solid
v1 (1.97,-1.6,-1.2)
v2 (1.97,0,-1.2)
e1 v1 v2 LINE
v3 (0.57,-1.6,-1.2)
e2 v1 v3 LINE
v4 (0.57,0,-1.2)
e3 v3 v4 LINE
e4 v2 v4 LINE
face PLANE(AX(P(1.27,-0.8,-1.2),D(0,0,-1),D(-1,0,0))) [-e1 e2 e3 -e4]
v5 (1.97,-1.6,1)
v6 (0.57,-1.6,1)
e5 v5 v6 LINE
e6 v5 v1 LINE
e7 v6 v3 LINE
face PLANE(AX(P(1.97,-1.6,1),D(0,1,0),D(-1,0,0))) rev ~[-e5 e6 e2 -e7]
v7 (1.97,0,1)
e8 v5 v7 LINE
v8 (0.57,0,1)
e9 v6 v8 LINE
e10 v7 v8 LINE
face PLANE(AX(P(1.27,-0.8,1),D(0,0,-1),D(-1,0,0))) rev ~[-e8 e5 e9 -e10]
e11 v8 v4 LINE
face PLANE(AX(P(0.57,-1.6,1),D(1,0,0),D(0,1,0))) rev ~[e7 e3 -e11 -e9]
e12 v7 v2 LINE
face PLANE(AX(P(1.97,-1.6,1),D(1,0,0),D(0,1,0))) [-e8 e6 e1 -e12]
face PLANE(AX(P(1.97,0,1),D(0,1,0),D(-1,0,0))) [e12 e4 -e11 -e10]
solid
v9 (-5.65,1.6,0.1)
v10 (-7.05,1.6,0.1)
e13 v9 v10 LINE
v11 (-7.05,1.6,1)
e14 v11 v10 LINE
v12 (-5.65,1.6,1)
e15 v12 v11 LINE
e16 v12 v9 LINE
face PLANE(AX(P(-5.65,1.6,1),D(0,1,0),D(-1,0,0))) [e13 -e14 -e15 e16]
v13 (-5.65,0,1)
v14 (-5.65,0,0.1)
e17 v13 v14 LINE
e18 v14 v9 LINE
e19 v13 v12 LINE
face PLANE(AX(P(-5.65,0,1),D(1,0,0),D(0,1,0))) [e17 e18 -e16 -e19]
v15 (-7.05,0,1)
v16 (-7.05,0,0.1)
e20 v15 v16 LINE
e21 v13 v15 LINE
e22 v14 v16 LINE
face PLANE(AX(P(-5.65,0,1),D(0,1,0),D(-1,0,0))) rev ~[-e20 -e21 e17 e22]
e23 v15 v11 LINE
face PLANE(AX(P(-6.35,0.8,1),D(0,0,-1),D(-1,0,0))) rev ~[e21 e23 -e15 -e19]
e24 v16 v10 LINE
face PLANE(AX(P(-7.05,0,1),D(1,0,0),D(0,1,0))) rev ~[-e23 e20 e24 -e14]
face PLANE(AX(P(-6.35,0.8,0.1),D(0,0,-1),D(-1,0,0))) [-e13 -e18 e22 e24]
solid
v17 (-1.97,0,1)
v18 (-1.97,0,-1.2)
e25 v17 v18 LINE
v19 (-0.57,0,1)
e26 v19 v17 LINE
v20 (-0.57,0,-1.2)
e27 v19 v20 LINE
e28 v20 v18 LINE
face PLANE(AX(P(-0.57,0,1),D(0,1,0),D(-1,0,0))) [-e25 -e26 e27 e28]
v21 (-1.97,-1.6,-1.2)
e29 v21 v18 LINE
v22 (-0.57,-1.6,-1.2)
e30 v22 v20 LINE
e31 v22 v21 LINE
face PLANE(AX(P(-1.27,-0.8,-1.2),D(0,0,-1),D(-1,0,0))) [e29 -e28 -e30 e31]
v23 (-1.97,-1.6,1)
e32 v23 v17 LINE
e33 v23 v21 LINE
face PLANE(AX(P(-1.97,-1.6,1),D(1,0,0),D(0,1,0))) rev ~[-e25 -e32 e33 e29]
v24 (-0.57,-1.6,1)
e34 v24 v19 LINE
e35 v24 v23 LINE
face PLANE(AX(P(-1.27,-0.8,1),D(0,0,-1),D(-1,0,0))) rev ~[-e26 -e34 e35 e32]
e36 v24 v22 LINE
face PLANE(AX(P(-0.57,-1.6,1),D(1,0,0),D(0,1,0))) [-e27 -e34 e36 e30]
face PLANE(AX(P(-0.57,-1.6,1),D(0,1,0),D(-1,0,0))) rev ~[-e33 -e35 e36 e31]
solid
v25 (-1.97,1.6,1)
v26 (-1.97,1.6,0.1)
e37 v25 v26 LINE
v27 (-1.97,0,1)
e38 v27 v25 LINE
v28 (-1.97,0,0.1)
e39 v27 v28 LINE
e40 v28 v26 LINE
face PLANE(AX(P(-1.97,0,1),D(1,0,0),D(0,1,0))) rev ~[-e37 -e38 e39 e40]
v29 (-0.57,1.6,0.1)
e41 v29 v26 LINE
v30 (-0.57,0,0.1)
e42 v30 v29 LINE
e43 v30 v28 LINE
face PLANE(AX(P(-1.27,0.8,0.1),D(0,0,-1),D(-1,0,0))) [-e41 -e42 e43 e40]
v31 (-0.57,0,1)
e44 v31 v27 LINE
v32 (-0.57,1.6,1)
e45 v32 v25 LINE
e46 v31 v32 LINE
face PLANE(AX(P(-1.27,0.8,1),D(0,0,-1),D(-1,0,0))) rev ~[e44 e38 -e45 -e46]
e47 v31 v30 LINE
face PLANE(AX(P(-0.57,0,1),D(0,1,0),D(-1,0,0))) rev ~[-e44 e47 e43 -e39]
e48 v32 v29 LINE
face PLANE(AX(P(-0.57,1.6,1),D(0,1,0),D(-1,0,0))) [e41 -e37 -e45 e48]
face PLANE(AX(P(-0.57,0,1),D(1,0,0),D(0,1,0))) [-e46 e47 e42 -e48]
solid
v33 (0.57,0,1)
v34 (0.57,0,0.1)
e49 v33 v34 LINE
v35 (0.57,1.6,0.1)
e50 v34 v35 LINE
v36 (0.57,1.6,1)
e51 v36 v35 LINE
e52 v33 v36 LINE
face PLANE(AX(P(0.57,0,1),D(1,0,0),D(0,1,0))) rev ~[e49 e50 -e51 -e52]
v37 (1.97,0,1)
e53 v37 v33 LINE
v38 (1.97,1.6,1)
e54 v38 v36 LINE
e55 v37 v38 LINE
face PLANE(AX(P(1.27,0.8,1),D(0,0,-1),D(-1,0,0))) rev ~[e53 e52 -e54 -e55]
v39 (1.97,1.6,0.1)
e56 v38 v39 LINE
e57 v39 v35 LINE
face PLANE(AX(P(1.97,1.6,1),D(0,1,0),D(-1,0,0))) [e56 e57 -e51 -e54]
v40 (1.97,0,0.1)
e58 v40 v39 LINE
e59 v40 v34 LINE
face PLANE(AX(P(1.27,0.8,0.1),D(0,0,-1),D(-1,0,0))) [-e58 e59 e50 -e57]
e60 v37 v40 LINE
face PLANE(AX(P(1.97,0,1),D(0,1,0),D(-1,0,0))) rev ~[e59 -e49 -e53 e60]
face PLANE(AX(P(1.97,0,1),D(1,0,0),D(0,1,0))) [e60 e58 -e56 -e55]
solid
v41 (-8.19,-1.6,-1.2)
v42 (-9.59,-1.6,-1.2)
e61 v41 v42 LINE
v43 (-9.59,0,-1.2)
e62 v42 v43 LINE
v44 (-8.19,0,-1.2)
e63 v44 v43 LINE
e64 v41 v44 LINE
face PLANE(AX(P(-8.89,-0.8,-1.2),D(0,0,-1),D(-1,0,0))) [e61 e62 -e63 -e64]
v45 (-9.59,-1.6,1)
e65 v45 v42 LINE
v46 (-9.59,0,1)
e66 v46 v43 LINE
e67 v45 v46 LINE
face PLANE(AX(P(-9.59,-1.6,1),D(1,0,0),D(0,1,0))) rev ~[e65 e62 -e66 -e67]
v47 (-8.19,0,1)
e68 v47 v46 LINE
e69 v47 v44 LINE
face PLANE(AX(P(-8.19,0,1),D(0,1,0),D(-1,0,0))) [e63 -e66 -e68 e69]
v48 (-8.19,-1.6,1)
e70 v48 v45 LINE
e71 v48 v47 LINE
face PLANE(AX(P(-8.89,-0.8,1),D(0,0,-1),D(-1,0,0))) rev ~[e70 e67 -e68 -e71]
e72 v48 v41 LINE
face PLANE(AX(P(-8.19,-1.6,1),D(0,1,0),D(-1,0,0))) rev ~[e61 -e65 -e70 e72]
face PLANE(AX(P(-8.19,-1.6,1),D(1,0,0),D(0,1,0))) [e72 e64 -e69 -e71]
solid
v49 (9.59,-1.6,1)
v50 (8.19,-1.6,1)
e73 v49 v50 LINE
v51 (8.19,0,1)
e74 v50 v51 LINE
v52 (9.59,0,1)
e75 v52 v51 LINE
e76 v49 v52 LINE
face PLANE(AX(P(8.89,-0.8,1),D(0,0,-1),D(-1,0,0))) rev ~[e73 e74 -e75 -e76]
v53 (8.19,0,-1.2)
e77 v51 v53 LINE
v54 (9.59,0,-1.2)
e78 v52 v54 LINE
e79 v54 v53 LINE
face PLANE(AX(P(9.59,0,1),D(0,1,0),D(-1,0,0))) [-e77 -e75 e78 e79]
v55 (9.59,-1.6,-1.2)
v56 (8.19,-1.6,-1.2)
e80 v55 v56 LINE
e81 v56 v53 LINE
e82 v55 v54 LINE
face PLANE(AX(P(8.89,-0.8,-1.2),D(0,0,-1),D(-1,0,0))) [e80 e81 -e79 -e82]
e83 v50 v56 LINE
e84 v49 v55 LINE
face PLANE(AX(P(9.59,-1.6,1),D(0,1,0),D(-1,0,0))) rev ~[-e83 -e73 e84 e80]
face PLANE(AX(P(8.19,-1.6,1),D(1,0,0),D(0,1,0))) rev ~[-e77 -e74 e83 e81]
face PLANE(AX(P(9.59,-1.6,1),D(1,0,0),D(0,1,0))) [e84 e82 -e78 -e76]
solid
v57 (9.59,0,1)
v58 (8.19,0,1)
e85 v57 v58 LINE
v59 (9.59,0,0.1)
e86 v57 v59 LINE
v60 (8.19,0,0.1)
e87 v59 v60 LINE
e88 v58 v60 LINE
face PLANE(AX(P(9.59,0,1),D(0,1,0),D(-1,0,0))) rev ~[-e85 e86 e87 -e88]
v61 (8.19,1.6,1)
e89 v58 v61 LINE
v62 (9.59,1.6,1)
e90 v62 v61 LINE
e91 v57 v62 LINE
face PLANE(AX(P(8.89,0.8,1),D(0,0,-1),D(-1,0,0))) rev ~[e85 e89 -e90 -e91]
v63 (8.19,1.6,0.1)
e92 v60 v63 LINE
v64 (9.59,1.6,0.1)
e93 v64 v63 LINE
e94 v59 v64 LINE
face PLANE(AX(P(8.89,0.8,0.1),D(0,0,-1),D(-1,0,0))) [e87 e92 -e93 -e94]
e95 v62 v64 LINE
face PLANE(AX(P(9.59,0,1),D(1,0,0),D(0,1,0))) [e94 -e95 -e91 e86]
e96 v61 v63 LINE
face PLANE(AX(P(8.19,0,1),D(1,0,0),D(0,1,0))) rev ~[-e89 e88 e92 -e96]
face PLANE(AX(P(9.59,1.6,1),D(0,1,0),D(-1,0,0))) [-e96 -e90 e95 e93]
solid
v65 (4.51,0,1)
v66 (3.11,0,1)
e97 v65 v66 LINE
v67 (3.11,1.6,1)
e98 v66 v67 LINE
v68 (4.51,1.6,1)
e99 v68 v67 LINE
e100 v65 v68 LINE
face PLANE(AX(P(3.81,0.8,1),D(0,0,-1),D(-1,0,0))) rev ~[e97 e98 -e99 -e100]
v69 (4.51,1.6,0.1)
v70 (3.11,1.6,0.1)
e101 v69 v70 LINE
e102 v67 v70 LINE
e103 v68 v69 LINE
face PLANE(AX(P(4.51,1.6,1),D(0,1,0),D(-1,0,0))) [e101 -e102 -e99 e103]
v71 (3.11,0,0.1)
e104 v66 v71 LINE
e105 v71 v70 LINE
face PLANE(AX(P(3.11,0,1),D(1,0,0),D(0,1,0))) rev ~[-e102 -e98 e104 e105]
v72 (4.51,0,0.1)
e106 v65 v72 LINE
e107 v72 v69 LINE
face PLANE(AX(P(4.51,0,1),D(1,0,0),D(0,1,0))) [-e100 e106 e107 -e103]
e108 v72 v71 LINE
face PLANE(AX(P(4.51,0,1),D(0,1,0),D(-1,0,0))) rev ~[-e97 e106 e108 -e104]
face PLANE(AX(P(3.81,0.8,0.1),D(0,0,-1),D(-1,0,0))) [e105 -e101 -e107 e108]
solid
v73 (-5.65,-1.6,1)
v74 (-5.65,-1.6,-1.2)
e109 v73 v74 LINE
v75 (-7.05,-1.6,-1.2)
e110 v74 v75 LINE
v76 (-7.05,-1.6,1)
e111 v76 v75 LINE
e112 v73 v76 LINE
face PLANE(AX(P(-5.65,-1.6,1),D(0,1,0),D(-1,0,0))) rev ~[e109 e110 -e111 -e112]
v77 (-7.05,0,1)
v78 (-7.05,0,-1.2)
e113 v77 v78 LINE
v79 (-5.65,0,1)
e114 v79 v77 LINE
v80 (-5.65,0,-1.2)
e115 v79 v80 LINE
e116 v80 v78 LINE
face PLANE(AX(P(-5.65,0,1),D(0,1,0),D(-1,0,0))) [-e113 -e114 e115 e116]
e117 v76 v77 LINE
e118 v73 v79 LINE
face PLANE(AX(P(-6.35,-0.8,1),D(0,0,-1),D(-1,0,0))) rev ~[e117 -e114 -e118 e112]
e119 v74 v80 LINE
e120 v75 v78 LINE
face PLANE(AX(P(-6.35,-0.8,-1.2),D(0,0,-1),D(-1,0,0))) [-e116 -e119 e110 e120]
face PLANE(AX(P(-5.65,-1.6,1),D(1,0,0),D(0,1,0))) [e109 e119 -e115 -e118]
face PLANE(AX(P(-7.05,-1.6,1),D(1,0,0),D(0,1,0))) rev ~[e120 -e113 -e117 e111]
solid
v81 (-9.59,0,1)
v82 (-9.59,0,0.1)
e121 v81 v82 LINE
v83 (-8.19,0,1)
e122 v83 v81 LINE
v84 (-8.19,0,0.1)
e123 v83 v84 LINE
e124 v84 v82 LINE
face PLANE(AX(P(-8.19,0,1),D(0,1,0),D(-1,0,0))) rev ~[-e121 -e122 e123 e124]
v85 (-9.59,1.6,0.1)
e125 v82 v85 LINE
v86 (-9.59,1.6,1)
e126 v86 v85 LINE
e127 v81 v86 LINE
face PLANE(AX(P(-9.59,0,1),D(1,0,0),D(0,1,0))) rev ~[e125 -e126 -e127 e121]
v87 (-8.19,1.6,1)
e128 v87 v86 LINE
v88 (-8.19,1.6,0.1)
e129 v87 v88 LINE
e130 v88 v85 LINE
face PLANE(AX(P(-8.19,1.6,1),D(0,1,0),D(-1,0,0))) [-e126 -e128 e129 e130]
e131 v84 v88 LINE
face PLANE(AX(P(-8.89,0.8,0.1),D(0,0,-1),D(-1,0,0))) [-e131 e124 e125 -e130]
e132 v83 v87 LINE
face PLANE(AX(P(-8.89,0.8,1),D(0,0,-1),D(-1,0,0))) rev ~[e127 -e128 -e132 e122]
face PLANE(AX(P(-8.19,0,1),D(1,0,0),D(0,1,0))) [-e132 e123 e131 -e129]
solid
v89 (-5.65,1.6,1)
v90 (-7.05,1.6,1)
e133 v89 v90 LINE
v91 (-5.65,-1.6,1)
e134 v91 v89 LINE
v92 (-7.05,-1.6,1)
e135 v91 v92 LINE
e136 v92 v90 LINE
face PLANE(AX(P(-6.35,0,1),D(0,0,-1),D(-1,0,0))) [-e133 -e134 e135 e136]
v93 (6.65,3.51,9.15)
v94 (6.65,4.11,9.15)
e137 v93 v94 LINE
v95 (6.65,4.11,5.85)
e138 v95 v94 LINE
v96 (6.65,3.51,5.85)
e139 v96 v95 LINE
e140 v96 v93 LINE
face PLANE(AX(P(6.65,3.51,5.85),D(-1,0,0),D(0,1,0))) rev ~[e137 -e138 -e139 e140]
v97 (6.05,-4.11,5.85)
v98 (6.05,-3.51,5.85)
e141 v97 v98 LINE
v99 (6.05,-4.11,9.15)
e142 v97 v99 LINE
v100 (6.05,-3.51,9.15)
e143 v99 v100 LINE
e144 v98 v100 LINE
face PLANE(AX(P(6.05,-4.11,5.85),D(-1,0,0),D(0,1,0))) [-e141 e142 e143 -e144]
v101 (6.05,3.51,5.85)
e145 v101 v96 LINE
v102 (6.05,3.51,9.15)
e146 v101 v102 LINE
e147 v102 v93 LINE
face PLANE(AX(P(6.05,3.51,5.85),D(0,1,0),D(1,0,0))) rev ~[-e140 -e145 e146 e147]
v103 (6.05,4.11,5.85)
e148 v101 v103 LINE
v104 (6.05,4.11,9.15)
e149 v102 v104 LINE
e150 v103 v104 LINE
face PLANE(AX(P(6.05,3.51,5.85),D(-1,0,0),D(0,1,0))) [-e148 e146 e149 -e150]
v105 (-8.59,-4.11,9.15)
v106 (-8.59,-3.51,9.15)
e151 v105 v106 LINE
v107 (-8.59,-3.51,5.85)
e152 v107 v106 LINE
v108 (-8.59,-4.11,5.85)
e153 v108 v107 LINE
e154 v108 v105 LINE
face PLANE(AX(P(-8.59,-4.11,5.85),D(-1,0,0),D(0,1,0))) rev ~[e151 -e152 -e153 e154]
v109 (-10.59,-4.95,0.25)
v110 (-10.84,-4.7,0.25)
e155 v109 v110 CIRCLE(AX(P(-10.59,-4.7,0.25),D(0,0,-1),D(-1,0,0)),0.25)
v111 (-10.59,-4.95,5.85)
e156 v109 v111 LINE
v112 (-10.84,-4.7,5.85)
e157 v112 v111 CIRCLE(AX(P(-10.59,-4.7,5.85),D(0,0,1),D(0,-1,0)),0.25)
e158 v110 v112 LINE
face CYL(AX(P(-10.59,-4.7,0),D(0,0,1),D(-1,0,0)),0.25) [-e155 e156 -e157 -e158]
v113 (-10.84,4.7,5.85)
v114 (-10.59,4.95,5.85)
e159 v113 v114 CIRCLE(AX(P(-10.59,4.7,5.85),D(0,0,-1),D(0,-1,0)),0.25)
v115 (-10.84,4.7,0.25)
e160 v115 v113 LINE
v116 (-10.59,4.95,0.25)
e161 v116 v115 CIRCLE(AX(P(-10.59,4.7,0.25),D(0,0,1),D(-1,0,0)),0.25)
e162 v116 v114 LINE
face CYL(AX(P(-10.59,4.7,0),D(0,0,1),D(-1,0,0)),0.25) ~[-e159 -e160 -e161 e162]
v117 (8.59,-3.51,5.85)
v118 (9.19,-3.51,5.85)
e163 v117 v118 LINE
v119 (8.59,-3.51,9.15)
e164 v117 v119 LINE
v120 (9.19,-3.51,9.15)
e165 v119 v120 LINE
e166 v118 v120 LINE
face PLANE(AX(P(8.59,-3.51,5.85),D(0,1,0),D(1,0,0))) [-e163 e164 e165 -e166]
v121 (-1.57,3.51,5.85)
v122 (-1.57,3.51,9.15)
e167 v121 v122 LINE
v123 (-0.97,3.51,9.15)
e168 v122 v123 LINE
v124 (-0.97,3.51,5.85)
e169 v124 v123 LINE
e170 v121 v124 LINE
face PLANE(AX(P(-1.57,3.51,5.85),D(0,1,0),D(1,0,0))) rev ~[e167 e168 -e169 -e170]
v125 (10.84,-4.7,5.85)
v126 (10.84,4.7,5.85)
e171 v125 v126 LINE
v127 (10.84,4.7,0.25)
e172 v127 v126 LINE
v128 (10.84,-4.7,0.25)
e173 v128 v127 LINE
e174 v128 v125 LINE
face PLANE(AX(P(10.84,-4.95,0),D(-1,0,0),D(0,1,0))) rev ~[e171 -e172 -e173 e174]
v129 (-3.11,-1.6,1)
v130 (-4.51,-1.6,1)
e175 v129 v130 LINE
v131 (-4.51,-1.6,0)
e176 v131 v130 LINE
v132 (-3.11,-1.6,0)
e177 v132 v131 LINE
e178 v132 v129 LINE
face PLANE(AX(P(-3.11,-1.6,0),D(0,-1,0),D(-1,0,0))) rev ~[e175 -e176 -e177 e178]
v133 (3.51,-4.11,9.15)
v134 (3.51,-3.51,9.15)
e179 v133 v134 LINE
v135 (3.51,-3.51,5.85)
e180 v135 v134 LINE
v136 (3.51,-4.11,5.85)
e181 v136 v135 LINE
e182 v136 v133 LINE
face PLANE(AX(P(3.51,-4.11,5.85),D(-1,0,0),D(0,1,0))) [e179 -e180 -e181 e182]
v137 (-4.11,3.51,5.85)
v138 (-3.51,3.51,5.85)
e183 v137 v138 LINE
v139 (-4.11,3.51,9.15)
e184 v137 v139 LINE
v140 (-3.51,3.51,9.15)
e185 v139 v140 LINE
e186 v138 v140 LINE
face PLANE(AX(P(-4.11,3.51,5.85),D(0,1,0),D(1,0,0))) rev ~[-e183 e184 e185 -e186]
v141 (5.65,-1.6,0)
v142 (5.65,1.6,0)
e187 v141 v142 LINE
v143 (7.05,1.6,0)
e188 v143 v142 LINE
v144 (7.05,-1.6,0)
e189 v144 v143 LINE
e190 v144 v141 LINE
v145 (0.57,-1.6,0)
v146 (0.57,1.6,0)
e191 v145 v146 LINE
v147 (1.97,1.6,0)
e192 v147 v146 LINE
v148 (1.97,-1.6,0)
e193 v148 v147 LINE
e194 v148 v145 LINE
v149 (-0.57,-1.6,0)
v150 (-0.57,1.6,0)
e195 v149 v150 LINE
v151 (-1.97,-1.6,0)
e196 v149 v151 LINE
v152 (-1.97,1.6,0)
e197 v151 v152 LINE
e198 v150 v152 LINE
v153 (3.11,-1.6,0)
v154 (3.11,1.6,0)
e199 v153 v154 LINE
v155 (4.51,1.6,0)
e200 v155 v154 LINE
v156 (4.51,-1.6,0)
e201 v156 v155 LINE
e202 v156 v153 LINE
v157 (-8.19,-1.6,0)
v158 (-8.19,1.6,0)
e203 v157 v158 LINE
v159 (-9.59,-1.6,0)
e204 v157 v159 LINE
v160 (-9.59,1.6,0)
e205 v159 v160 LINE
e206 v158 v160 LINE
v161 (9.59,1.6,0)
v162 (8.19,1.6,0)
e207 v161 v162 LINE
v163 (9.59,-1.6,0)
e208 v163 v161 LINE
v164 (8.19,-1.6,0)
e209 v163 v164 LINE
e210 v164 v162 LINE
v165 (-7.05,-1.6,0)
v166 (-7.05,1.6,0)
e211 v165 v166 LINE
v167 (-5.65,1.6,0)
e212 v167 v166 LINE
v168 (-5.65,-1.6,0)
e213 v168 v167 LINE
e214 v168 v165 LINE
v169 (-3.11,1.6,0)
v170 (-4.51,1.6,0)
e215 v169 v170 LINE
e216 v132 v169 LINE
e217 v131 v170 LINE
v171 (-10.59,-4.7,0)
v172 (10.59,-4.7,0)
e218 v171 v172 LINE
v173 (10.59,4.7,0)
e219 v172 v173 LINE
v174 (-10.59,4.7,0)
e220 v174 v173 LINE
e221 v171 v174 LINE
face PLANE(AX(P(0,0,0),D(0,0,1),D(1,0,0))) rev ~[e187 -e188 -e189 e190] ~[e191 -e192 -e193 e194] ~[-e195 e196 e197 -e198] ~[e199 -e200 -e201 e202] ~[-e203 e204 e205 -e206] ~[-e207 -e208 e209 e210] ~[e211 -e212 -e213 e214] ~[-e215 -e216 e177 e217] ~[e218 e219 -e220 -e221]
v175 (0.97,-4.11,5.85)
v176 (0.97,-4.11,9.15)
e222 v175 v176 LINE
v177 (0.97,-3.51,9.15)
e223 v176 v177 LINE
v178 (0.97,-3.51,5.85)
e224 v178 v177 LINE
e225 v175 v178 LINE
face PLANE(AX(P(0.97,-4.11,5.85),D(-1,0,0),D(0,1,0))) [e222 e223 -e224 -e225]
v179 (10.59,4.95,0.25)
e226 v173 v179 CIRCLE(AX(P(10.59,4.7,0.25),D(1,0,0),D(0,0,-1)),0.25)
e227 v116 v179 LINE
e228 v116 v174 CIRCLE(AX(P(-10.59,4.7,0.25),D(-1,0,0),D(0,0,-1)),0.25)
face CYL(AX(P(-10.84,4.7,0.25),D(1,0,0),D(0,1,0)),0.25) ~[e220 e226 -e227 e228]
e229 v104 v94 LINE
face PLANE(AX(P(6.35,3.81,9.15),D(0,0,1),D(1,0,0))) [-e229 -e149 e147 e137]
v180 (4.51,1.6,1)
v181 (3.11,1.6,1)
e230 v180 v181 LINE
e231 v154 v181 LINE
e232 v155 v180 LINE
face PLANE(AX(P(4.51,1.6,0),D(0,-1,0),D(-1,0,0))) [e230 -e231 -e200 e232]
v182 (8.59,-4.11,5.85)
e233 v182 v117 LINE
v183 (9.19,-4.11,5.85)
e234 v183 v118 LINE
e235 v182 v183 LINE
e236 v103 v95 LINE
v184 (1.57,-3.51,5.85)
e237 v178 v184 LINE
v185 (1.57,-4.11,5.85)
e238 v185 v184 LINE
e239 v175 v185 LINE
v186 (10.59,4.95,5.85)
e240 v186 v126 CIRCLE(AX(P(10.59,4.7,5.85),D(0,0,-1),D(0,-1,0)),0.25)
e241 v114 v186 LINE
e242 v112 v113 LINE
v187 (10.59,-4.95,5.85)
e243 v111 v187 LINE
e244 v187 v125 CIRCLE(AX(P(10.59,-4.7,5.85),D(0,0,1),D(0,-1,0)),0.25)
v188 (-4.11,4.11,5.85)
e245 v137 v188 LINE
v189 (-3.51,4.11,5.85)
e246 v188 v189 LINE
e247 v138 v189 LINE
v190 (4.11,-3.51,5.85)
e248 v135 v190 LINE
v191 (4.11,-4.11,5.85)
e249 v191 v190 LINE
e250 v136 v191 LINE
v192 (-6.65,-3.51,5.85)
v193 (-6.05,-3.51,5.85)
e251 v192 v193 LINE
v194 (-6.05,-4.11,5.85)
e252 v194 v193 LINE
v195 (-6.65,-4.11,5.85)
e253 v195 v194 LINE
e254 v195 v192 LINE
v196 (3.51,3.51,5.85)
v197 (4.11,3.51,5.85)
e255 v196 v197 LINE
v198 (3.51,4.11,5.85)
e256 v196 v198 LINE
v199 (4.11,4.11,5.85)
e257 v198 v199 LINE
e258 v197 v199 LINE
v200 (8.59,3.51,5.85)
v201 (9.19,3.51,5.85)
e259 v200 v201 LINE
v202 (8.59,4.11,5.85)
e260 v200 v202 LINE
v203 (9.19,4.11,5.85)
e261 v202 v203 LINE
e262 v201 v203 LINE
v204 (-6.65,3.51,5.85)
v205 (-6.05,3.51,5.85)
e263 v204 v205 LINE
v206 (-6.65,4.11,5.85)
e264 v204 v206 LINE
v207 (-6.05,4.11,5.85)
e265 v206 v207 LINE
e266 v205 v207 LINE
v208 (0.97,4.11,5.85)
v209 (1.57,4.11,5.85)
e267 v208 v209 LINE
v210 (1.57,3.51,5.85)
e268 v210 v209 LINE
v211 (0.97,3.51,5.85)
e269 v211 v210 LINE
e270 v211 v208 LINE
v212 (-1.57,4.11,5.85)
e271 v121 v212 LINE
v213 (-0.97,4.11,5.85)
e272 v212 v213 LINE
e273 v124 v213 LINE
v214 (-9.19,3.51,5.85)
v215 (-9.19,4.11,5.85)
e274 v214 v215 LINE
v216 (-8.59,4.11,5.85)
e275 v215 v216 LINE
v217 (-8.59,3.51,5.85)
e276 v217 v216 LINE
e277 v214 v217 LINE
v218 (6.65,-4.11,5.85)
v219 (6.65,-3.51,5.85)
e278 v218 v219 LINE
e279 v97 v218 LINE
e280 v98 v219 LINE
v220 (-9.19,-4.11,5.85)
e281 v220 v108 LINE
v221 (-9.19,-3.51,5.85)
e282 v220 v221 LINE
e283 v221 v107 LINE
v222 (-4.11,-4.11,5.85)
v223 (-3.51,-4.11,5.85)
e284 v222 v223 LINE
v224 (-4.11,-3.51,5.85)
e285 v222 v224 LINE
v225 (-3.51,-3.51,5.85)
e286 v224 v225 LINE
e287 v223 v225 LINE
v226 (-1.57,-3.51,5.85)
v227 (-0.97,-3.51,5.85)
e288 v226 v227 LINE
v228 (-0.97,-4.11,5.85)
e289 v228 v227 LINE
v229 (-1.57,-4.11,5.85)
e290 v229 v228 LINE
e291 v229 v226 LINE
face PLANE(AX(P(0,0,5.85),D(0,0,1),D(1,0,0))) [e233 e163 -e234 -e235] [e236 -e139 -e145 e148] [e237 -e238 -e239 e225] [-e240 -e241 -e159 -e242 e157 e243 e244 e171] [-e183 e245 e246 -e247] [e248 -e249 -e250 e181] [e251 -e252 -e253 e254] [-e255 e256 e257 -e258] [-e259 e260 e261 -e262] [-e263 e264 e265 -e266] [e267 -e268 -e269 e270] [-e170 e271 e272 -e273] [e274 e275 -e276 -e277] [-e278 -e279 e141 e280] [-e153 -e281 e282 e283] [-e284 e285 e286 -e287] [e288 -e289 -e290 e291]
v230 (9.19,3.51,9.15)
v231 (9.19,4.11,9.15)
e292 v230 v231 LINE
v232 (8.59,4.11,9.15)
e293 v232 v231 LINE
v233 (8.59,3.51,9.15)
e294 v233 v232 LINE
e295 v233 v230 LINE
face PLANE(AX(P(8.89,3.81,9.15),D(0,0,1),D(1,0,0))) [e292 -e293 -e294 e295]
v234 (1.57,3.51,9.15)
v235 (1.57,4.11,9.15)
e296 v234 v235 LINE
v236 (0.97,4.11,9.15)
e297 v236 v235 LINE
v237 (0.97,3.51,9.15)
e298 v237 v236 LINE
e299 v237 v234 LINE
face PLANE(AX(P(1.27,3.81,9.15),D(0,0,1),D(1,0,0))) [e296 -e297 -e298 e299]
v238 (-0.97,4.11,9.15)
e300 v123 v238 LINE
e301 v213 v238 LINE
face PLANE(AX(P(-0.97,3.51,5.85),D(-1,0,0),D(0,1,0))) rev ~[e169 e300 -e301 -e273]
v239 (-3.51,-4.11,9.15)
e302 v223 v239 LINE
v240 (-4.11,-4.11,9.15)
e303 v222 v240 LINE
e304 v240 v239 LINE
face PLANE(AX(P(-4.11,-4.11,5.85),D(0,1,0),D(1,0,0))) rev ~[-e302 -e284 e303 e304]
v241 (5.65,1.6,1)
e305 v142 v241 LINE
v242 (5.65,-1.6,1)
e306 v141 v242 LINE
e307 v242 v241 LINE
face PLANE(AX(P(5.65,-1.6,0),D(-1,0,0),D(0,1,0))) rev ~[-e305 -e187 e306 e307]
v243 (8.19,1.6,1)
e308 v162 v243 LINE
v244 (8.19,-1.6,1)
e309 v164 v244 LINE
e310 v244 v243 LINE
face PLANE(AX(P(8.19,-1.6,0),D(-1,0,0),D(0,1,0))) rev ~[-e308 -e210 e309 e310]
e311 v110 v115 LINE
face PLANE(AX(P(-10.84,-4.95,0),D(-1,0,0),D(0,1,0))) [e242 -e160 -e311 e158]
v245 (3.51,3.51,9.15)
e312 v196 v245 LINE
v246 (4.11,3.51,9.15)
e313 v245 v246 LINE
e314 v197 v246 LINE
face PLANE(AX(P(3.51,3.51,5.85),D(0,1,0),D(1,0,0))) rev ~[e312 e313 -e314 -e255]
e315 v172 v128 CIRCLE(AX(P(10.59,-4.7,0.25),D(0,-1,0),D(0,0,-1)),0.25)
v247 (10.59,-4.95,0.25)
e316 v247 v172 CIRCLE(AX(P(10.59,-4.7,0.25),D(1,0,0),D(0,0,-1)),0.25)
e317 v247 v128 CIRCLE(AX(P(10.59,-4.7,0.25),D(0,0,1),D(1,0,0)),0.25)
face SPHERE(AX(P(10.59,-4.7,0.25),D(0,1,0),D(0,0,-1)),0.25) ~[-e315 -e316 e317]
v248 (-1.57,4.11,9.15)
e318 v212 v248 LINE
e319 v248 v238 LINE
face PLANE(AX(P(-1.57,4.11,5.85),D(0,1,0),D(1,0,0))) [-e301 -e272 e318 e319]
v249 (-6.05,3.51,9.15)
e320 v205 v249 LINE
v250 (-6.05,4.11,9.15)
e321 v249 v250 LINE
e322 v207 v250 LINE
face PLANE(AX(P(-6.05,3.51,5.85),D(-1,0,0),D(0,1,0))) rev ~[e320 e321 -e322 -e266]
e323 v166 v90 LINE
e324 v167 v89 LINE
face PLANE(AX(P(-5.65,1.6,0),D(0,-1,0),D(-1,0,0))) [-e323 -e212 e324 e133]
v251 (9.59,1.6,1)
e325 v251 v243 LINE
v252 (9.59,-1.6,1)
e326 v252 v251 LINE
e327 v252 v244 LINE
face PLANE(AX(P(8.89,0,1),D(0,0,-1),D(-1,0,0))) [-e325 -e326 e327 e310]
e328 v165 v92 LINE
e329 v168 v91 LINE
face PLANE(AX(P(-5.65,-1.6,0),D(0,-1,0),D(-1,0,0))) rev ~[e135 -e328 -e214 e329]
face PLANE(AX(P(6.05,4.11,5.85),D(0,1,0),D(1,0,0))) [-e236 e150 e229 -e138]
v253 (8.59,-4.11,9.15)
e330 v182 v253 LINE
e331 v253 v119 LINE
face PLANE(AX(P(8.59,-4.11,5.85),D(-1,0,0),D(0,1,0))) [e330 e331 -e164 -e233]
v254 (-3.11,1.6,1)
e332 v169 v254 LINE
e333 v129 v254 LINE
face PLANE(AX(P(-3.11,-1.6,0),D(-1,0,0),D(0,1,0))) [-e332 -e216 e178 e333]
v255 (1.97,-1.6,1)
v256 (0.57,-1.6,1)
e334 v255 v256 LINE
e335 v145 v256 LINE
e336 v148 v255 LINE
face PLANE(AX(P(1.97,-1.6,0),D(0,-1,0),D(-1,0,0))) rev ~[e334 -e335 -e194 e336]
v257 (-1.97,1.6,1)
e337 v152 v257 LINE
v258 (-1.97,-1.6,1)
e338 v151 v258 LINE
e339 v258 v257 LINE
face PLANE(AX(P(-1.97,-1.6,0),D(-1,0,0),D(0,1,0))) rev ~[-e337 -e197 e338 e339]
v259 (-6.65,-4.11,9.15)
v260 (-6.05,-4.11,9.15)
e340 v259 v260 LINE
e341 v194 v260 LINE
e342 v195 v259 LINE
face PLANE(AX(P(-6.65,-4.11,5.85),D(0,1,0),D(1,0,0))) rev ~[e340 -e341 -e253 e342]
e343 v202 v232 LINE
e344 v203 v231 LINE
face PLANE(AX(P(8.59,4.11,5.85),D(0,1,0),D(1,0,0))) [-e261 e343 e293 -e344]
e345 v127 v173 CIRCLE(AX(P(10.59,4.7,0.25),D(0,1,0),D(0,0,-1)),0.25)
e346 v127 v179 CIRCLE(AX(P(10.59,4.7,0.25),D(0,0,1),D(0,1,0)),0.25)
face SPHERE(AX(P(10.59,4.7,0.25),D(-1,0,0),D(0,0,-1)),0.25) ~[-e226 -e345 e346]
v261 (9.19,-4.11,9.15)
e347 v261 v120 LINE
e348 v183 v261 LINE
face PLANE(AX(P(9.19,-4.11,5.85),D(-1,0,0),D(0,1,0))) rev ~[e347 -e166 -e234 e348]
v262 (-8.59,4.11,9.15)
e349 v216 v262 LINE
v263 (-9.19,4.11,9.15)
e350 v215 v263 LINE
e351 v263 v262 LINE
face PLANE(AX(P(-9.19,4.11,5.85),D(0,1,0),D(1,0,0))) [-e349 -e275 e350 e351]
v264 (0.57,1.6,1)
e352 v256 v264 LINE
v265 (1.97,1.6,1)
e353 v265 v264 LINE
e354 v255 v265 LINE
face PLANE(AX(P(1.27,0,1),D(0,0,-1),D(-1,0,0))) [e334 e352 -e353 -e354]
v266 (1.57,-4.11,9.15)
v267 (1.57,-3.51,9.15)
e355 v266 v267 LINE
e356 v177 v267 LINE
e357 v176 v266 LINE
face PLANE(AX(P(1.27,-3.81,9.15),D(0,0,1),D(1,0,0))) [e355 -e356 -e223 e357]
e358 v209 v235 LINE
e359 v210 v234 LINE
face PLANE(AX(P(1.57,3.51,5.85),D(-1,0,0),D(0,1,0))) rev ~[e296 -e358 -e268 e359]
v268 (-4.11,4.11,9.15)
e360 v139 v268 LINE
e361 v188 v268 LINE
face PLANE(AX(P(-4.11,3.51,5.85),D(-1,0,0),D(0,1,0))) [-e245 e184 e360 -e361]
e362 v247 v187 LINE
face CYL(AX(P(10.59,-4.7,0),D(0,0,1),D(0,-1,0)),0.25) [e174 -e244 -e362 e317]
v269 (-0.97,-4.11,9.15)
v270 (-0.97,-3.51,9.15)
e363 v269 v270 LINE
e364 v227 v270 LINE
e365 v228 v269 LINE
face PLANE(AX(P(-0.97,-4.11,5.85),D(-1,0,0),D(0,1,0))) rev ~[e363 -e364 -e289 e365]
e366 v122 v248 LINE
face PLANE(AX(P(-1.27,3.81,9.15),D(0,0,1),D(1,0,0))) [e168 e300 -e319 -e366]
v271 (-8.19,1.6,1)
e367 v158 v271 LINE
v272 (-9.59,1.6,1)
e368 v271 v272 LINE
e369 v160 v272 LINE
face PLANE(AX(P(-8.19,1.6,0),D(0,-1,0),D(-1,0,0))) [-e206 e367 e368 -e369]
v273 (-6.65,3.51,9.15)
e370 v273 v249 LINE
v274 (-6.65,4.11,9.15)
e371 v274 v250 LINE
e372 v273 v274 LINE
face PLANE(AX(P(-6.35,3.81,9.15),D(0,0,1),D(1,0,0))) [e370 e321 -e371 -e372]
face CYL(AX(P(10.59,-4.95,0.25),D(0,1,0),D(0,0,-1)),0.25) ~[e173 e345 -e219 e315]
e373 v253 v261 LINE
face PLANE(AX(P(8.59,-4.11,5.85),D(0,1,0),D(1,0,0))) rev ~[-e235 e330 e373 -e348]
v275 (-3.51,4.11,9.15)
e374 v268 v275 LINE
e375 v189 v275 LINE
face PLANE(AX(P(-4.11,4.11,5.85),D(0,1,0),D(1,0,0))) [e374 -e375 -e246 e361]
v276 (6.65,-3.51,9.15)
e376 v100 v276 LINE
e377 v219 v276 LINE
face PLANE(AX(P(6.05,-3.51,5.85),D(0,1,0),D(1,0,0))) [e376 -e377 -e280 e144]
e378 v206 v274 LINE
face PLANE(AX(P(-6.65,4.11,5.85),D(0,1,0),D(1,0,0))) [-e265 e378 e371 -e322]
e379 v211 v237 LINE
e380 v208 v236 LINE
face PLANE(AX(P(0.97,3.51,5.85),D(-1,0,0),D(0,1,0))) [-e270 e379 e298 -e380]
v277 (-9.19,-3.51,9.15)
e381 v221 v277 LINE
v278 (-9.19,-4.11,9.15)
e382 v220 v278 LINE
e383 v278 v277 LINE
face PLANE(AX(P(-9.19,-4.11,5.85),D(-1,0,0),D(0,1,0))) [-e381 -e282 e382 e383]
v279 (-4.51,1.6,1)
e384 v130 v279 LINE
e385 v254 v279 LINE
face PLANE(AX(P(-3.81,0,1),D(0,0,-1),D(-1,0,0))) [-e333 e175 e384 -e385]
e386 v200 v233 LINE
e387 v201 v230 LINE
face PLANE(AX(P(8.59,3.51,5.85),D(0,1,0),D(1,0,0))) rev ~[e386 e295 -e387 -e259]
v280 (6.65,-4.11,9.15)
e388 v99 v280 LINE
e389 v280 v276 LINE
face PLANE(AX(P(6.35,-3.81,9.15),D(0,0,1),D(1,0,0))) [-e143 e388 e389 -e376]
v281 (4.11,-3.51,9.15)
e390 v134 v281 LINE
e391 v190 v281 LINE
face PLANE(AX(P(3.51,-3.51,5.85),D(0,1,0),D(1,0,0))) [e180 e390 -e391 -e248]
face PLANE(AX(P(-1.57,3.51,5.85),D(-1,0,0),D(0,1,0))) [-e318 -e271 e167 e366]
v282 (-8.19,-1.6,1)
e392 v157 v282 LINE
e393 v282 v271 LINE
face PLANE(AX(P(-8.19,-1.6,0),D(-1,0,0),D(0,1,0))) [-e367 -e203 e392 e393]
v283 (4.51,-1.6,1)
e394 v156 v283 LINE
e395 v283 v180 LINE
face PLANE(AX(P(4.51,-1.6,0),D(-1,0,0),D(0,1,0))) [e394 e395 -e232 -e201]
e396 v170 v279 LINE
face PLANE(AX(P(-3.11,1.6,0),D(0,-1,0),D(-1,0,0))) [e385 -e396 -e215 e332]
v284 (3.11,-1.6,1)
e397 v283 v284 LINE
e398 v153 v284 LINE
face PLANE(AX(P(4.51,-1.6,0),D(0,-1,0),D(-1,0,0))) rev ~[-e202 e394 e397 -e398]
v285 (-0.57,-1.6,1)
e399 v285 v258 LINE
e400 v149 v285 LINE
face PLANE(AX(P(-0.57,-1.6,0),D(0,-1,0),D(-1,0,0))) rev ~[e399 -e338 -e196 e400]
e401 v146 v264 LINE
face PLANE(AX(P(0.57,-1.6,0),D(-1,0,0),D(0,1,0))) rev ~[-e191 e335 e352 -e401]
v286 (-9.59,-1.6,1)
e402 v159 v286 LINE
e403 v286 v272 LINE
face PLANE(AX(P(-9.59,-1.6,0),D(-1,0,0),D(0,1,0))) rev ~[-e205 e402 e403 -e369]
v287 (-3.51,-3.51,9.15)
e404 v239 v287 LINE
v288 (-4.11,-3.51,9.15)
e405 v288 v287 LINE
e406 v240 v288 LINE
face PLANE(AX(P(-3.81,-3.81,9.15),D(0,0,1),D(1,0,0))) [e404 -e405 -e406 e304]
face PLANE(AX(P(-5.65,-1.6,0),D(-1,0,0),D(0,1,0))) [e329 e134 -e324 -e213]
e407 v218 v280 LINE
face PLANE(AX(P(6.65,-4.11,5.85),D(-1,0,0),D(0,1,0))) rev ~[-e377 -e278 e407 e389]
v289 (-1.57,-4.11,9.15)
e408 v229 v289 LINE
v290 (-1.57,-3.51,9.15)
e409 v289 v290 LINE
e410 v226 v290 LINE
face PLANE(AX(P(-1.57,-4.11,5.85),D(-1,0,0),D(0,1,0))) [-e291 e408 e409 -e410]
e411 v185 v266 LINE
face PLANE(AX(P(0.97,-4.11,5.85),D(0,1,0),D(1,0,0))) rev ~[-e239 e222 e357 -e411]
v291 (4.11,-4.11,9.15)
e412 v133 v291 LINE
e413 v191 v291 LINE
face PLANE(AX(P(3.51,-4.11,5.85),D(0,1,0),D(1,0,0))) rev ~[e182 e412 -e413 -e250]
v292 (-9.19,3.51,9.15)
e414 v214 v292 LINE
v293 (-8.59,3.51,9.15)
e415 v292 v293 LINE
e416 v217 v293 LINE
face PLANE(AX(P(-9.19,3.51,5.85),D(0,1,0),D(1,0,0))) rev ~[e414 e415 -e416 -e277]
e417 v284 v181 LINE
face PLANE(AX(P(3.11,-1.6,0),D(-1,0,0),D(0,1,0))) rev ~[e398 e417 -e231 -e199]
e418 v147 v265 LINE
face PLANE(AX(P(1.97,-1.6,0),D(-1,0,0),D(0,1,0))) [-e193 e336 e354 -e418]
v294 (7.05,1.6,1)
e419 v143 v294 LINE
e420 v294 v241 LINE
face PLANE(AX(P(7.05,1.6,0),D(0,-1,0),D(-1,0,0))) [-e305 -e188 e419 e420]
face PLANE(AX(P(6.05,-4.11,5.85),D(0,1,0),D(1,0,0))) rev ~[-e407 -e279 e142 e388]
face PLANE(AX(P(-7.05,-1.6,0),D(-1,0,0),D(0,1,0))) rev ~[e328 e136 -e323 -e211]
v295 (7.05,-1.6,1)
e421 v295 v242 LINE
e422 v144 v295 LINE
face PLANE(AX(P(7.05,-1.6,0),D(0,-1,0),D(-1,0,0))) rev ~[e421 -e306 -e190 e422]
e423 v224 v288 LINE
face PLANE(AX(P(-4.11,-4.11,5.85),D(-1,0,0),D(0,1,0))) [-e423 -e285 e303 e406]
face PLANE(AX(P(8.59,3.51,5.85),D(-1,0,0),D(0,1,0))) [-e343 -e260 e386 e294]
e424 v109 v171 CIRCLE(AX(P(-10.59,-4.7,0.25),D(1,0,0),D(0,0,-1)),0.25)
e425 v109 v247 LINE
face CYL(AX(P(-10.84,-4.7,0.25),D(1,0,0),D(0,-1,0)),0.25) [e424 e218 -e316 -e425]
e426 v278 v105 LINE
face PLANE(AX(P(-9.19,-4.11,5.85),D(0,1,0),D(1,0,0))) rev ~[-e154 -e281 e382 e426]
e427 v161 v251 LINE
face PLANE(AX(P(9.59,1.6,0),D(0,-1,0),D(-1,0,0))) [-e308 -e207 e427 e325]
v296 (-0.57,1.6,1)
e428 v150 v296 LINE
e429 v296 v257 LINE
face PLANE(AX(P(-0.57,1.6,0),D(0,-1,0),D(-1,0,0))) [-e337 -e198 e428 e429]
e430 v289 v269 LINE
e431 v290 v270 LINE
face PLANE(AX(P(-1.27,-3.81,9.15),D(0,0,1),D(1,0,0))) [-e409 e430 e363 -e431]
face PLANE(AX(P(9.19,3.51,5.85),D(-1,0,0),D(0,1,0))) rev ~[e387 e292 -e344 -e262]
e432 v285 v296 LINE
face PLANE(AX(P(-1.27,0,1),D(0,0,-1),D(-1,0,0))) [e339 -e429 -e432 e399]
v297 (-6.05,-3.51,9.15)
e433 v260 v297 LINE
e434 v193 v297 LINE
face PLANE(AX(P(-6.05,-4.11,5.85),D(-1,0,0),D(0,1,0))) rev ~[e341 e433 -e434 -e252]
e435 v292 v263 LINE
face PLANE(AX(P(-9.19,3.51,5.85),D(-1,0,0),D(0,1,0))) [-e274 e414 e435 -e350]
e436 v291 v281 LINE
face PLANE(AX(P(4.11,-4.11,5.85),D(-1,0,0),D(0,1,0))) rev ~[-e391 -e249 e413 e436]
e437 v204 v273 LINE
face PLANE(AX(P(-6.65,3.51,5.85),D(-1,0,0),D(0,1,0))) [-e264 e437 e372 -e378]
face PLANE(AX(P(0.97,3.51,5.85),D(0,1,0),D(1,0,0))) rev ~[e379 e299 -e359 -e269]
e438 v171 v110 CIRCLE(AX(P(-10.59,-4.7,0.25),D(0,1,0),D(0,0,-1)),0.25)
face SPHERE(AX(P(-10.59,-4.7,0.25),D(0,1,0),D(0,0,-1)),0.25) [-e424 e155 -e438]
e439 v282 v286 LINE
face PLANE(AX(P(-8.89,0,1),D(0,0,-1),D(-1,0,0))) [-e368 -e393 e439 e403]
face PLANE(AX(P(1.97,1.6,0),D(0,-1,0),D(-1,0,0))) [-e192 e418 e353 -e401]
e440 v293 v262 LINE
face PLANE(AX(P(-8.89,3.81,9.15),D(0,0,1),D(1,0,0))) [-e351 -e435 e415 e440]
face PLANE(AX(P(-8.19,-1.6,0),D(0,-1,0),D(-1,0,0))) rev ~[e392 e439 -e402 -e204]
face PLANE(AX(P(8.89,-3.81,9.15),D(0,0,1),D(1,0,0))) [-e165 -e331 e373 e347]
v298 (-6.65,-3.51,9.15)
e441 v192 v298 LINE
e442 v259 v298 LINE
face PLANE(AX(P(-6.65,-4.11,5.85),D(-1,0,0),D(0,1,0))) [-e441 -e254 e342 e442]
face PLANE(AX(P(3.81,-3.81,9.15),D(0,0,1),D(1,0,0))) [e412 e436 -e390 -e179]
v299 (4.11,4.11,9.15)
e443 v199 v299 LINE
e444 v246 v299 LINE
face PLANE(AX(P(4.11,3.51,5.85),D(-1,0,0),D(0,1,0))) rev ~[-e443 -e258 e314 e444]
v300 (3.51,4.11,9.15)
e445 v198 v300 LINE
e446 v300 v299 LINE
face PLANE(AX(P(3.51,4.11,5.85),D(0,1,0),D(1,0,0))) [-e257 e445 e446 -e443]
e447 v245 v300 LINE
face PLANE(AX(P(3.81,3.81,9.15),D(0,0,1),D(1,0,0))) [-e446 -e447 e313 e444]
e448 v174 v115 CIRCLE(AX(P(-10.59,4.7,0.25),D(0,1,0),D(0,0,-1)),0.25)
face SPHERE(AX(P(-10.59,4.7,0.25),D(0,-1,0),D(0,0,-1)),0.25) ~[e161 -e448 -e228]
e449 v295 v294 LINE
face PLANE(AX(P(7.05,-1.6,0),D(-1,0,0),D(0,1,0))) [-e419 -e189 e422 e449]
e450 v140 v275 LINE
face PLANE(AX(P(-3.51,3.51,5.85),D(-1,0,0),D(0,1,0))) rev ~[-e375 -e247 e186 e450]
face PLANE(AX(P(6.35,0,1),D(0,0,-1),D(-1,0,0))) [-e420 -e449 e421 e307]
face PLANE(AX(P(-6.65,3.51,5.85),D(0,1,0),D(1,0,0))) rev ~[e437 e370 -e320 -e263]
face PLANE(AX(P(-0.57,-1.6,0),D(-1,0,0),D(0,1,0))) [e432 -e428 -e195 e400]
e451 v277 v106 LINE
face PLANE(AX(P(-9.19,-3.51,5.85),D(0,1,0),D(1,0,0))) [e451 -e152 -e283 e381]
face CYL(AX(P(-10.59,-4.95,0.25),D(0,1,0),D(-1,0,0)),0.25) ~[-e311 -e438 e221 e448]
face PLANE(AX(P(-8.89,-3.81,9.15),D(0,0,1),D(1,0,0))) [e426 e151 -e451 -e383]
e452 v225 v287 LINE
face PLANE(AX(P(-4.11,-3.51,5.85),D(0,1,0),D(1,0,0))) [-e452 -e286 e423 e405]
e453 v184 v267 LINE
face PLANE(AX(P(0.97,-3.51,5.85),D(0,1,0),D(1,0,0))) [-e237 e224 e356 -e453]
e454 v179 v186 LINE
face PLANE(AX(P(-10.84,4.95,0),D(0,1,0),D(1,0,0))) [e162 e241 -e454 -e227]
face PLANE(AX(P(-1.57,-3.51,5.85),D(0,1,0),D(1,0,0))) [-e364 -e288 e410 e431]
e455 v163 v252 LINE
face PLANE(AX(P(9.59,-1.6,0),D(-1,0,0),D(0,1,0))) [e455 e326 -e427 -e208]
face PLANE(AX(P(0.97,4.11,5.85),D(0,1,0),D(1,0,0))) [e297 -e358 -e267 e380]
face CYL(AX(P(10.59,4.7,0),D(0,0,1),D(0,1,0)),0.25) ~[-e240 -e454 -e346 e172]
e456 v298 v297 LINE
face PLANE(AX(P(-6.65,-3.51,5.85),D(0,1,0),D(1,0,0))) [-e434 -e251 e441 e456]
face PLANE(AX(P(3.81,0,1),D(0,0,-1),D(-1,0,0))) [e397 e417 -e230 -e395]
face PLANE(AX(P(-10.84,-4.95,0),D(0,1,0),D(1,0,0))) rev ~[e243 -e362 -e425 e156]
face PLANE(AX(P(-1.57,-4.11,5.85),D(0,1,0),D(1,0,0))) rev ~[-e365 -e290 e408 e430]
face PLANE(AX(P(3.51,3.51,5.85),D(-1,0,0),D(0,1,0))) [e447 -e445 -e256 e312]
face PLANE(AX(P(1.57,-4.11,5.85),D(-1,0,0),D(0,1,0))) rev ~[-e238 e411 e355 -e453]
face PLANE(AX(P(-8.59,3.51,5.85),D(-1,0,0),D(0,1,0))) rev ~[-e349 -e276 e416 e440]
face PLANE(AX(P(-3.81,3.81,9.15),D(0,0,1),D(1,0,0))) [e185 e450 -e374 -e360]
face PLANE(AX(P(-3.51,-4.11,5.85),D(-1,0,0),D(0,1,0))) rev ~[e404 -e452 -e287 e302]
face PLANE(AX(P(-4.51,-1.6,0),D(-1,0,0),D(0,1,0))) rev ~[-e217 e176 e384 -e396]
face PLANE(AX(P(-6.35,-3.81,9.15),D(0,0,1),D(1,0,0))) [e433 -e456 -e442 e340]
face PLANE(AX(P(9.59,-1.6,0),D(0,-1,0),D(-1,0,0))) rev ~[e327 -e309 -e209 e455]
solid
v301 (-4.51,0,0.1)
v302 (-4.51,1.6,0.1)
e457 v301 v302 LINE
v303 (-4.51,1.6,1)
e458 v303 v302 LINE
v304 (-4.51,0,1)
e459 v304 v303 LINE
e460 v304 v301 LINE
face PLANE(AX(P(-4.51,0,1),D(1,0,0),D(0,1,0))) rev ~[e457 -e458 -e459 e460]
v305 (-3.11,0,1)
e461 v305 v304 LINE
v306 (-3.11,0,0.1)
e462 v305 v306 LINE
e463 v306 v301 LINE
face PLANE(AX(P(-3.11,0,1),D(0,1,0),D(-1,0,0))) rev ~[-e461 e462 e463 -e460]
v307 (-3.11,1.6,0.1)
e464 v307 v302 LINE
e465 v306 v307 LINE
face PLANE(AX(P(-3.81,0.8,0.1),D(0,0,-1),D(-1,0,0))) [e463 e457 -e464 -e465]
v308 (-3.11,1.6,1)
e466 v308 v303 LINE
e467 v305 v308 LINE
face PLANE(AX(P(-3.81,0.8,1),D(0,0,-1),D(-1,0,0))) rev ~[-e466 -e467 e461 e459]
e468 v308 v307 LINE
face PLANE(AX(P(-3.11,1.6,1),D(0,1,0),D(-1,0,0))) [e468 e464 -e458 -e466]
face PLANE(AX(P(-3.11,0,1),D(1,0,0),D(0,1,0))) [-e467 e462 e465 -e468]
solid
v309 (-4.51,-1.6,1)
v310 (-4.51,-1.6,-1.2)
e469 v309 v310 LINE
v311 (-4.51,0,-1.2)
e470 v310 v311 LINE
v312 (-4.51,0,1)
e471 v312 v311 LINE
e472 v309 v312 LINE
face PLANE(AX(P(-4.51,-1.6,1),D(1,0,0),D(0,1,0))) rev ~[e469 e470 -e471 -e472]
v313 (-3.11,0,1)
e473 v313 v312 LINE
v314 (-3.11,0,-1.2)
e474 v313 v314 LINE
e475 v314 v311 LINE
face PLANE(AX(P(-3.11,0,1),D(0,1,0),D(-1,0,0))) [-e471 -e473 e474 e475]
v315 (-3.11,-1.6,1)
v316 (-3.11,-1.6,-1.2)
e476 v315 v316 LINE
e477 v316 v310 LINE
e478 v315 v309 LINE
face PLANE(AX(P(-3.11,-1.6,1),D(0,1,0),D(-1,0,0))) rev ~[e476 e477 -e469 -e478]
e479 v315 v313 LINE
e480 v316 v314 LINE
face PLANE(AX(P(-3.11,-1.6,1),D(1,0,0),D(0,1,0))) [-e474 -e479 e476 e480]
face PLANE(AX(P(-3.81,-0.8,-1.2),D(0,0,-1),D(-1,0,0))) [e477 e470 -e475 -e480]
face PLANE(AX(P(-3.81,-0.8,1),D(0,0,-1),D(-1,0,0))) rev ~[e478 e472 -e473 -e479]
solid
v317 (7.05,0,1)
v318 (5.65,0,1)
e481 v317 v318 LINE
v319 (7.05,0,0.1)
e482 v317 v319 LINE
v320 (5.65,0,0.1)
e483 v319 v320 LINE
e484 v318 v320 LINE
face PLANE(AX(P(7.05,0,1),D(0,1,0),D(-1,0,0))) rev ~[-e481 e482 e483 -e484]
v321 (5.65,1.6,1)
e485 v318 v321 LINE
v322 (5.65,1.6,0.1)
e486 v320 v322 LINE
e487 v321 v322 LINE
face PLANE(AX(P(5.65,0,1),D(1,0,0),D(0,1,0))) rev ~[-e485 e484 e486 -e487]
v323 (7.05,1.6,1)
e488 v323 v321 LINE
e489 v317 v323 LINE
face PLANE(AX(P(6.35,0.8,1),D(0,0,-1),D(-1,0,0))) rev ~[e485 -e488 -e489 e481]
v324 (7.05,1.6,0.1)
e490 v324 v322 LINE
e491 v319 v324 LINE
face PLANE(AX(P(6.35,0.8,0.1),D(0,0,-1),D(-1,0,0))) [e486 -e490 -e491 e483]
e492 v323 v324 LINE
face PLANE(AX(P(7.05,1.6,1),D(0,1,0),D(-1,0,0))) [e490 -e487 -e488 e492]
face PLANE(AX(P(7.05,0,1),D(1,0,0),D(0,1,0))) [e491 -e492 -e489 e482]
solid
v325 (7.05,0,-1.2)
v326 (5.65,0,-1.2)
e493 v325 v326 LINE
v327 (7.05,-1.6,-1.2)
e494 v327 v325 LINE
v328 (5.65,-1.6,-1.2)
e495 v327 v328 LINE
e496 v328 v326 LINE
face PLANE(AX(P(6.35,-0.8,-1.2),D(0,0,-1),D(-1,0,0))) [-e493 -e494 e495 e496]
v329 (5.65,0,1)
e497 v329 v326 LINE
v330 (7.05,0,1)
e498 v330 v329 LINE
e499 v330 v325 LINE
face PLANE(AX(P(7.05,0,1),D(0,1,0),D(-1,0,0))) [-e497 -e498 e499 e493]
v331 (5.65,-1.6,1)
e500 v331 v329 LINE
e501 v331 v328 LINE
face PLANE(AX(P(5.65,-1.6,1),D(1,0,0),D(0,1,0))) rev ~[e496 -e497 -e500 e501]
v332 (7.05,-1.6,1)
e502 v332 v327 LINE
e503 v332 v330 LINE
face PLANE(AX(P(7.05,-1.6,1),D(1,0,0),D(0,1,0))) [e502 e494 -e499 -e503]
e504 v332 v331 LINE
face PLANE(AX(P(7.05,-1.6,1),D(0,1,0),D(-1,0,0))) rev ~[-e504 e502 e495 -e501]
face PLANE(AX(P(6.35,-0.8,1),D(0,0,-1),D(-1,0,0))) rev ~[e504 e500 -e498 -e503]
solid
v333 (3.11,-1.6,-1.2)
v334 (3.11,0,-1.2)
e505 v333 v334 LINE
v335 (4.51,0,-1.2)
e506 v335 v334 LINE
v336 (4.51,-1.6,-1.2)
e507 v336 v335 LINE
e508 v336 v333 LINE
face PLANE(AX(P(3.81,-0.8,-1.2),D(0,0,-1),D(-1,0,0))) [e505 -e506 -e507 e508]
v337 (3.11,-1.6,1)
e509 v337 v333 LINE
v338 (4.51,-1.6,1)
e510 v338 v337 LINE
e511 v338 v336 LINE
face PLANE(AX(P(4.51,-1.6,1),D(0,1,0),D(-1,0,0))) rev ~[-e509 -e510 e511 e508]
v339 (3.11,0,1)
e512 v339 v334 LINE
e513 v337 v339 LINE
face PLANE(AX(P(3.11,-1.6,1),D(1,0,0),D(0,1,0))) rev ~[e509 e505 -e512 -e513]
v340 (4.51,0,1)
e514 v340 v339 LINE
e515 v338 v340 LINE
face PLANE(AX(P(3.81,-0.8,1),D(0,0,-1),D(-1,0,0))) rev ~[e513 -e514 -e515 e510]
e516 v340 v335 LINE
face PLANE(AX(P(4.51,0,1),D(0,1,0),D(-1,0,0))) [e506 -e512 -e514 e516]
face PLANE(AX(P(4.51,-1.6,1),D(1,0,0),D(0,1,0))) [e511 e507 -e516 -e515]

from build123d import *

# Parameters (mm, degrees)
IZIM1_W                       = 21.68
IZIM1_H                       = 9.9
Y_KSEKLIK_EKSTR_ZYON1_DEPTH   = 5.85
IZIM2_W                       = 1.4
IZIM2_H                       = 3.2
KES_EKSTR_ZYON1_DEPTH         = 1
IZIM3_W                       = 1.4
IZIM3_H                       = 1.6
Y_KSEKLIK_EKSTR_ZYON2_DEPTH   = 2.2
Y_KSEKLIK_EKSTR_ZYON2_2_DEPTH = 2.2
Y_KSEKLIK_EKSTR_ZYON2_3_DEPTH = 2.2
Y_KSEKLIK_EKSTR_ZYON2_4_DEPTH = 2.2
Y_KSEKLIK_EKSTR_ZYON2_5_DEPTH = 2.2
Y_KSEKLIK_EKSTR_ZYON2_6_DEPTH = 2.2
Y_KSEKLIK_EKSTR_ZYON2_7_DEPTH = 2.2
Y_KSEKLIK_EKSTR_ZYON2_8_DEPTH = 2.2
IZIM4_W                       = 1.4
IZIM4_H                       = 1.6
Y_KSEKLIK_EKSTR_ZYON3_DEPTH   = 0.9
Y_KSEKLIK_EKSTR_ZYON3_2_DEPTH = 0.9
Y_KSEKLIK_EKSTR_ZYON3_3_DEPTH = 0.9
Y_KSEKLIK_EKSTR_ZYON3_4_DEPTH = 0.9
Y_KSEKLIK_EKSTR_ZYON3_5_DEPTH = 0.9
Y_KSEKLIK_EKSTR_ZYON3_6_DEPTH = 0.9
Y_KSEKLIK_EKSTR_ZYON3_7_DEPTH = 0.9
Y_KSEKLIK_EKSTR_ZYON3_8_DEPTH = 0.9
RADYUS1_R                     = 0.25
IZIM5_W                       = 0.6
IZIM5_H                       = 0.6
Y_KSEKLIK_EKSTR_ZYON4_DEPTH   = 3.3


with BuildPart() as part:
    # Çizim1 → Yükseklik-Ekstrüzyon1 (new body)
    with BuildSketch(Plane.XY):
        Rectangle(IZIM1_W, IZIM1_H)
    extrude(amount=Y_KSEKLIK_EKSTR_ZYON1_DEPTH)

    # Çizim2 → Kes-Ekstrüzyon1 (cut)
    with BuildSketch(Plane(origin=(0, 0, 0), x_dir=(-1, 0, 0), z_dir=(0, 0, -1))):
        with Locations((-8.89, 0)):
            Rectangle(IZIM2_W, IZIM2_H)
        with Locations((-6.35, 0)):
            Rectangle(IZIM2_W, IZIM2_H)
        with Locations((-3.81, 0)):
            Rectangle(IZIM2_W, IZIM2_H)
        with Locations((-1.27, 0)):
            Rectangle(IZIM2_W, IZIM2_H)
        with Locations((1.27, 0)):
            Rectangle(IZIM2_W, IZIM2_H)
        with Locations((3.81, 0)):
            Rectangle(IZIM2_W, IZIM2_H)
        with Locations((6.35, 0)):
            Rectangle(IZIM2_W, IZIM2_H)
        with Locations((8.89, 0)):
            Rectangle(IZIM2_W, IZIM2_H)
    extrude(amount=-KES_EKSTR_ZYON1_DEPTH, mode=Mode.SUBTRACT)

    # Radyus1
    radyus1_edges = [part.edges().sort_by_distance(p)[0] for p in [
        (-10.84, 0, 0),
        (0, 4.95, 0),
        (10.84, 0, 0),
        (0, -4.95, 0),
        (-10.84, -4.95, 2.925),
        (-10.84, 4.95, 2.925),
        (10.84, 4.95, 2.925),
        (10.84, -4.95, 2.925),
    ]]
    fillet(radyus1_edges, radius=RADYUS1_R)

    # Çizim5 → Yükseklik-Ekstrüzyon4 (add)
    with BuildSketch(Plane.XY.offset(5.85)):
        with Locations((-8.89, 3.81)):
            Rectangle(IZIM5_W, IZIM5_H)
        with Locations((-6.35, 3.81)):
            Rectangle(IZIM5_W, IZIM5_H)
        with Locations((-3.81, 3.81)):
            Rectangle(IZIM5_W, IZIM5_H)
        with Locations((-1.27, 3.81)):
            Rectangle(IZIM5_W, IZIM5_H)
        with Locations((1.27, 3.81)):
            Rectangle(IZIM5_W, IZIM5_H)
        with Locations((3.81, 3.81)):
            Rectangle(IZIM5_W, IZIM5_H)
        with Locations((6.35, 3.81)):
            Rectangle(IZIM5_W, IZIM5_H)
        with Locations((8.89, 3.81)):
            Rectangle(IZIM5_W, IZIM5_H)
        with Locations((8.89, -3.81)):
            Rectangle(IZIM5_W, IZIM5_H)
        with Locations((6.35, -3.81)):
            Rectangle(IZIM5_W, IZIM5_H)
        with Locations((3.81, -3.81)):
            Rectangle(IZIM5_W, IZIM5_H)
        with Locations((1.27, -3.81)):
            Rectangle(IZIM5_W, IZIM5_H)
        with Locations((-1.27, -3.81)):
            Rectangle(IZIM5_W, IZIM5_H)
        with Locations((-3.81, -3.81)):
            Rectangle(IZIM5_W, IZIM5_H)
        with Locations((-6.35, -3.81)):
            Rectangle(IZIM5_W, IZIM5_H)
        with Locations((-8.89, -3.81)):
            Rectangle(IZIM5_W, IZIM5_H)
    extrude(amount=Y_KSEKLIK_EKSTR_ZYON4_DEPTH)


with BuildPart() as body_2:
    # Çizim3 → Yükseklik-Ekstrüzyon2 (new body)
    with BuildSketch(Plane(origin=(0, 0, 1), x_dir=(-1, 0, 0), z_dir=(0, 0, -1))):
        with Locations((-8.89, -0.8)):
            Rectangle(IZIM3_W, IZIM3_H)
    extrude(amount=Y_KSEKLIK_EKSTR_ZYON2_DEPTH)


with BuildPart() as body_3:
    # Çizim3 → Y_kseklik-Ekstr_zyon2 2 (new body)
    with BuildSketch(Plane(origin=(0, 0, 1), x_dir=(-1, 0, 0), z_dir=(0, 0, -1))):
        with Locations((-6.35, -0.8)):
            Rectangle(IZIM3_W, IZIM3_H)
    extrude(amount=Y_KSEKLIK_EKSTR_ZYON2_2_DEPTH)


with BuildPart() as body_4:
    # Çizim3 → Y_kseklik-Ekstr_zyon2 3 (new body)
    with BuildSketch(Plane(origin=(0, 0, 1), x_dir=(-1, 0, 0), z_dir=(0, 0, -1))):
        with Locations((-3.81, -0.8)):
            Rectangle(IZIM3_W, IZIM3_H)
    extrude(amount=Y_KSEKLIK_EKSTR_ZYON2_3_DEPTH)


with BuildPart() as body_5:
    # Çizim3 → Y_kseklik-Ekstr_zyon2 4 (new body)
    with BuildSketch(Plane(origin=(0, 0, 1), x_dir=(-1, 0, 0), z_dir=(0, 0, -1))):
        with Locations((-1.27, -0.8)):
            Rectangle(IZIM3_W, IZIM3_H)
    extrude(amount=Y_KSEKLIK_EKSTR_ZYON2_4_DEPTH)


with BuildPart() as body_6:
    # Çizim3 → Y_kseklik-Ekstr_zyon2 5 (new body)
    with BuildSketch(Plane(origin=(0, 0, 1), x_dir=(-1, 0, 0), z_dir=(0, 0, -1))):
        with Locations((1.27, -0.8)):
            Rectangle(IZIM3_W, IZIM3_H)
    extrude(amount=Y_KSEKLIK_EKSTR_ZYON2_5_DEPTH)


with BuildPart() as body_7:
    # Çizim3 → Y_kseklik-Ekstr_zyon2 6 (new body)
    with BuildSketch(Plane(origin=(0, 0, 1), x_dir=(-1, 0, 0), z_dir=(0, 0, -1))):
        with Locations((3.81, -0.8)):
            Rectangle(IZIM3_W, IZIM3_H)
    extrude(amount=Y_KSEKLIK_EKSTR_ZYON2_6_DEPTH)


with BuildPart() as body_8:
    # Çizim3 → Y_kseklik-Ekstr_zyon2 7 (new body)
    with BuildSketch(Plane(origin=(0, 0, 1), x_dir=(-1, 0, 0), z_dir=(0, 0, -1))):
        with Locations((6.35, -0.8)):
            Rectangle(IZIM3_W, IZIM3_H)
    extrude(amount=Y_KSEKLIK_EKSTR_ZYON2_7_DEPTH)


with BuildPart() as body_9:
    # Çizim3 → Y_kseklik-Ekstr_zyon2 8 (new body)
    with BuildSketch(Plane(origin=(0, 0, 1), x_dir=(-1, 0, 0), z_dir=(0, 0, -1))):
        with Locations((8.89, -0.8)):
            Rectangle(IZIM3_W, IZIM3_H)
    extrude(amount=Y_KSEKLIK_EKSTR_ZYON2_8_DEPTH)


with BuildPart() as body_10:
    # Çizim4 → Yükseklik-Ekstrüzyon3 (new body)
    with BuildSketch(Plane(origin=(0, 0, 1), x_dir=(-1, 0, 0), z_dir=(0, 0, -1))):
        with Locations((-8.89, 0.8)):
            Rectangle(IZIM4_W, IZIM4_H)
    extrude(amount=Y_KSEKLIK_EKSTR_ZYON3_DEPTH)


with BuildPart() as body_11:
    # Çizim4 → Y_kseklik-Ekstr_zyon3 2 (new body)
    with BuildSketch(Plane(origin=(0, 0, 1), x_dir=(-1, 0, 0), z_dir=(0, 0, -1))):
        with Locations((-6.35, 0.8)):
            Rectangle(IZIM4_W, IZIM4_H)
    extrude(amount=Y_KSEKLIK_EKSTR_ZYON3_2_DEPTH)


with BuildPart() as body_12:
    # Çizim4 → Y_kseklik-Ekstr_zyon3 3 (new body)
    with BuildSketch(Plane(origin=(0, 0, 1), x_dir=(-1, 0, 0), z_dir=(0, 0, -1))):
        with Locations((-3.81, 0.8)):
            Rectangle(IZIM4_W, IZIM4_H)
    extrude(amount=Y_KSEKLIK_EKSTR_ZYON3_3_DEPTH)


with BuildPart() as body_13:
    # Çizim4 → Y_kseklik-Ekstr_zyon3 4 (new body)
    with BuildSketch(Plane(origin=(0, 0, 1), x_dir=(-1, 0, 0), z_dir=(0, 0, -1))):
        with Locations((-1.27, 0.8)):
            Rectangle(IZIM4_W, IZIM4_H)
    extrude(amount=Y_KSEKLIK_EKSTR_ZYON3_4_DEPTH)


with BuildPart() as body_14:
    # Çizim4 → Y_kseklik-Ekstr_zyon3 5 (new body)
    with BuildSketch(Plane(origin=(0, 0, 1), x_dir=(-1, 0, 0), z_dir=(0, 0, -1))):
        with Locations((1.27, 0.8)):
            Rectangle(IZIM4_W, IZIM4_H)
    extrude(amount=Y_KSEKLIK_EKSTR_ZYON3_5_DEPTH)


with BuildPart() as body_15:
    # Çizim4 → Y_kseklik-Ekstr_zyon3 6 (new body)
    with BuildSketch(Plane(origin=(0, 0, 1), x_dir=(-1, 0, 0), z_dir=(0, 0, -1))):
        with Locations((3.81, 0.8)):
            Rectangle(IZIM4_W, IZIM4_H)
    extrude(amount=Y_KSEKLIK_EKSTR_ZYON3_6_DEPTH)


with BuildPart() as body_16:
    # Çizim4 → Y_kseklik-Ekstr_zyon3 7 (new body)
    with BuildSketch(Plane(origin=(0, 0, 1), x_dir=(-1, 0, 0), z_dir=(0, 0, -1))):
        with Locations((6.35, 0.8)):
            Rectangle(IZIM4_W, IZIM4_H)
    extrude(amount=Y_KSEKLIK_EKSTR_ZYON3_7_DEPTH)


with BuildPart() as body_17:
    # Çizim4 → Y_kseklik-Ekstr_zyon3 8 (new body)
    with BuildSketch(Plane(origin=(0, 0, 1), x_dir=(-1, 0, 0), z_dir=(0, 0, -1))):
        with Locations((8.89, 0.8)):
            Rectangle(IZIM4_W, IZIM4_H)
    extrude(amount=Y_KSEKLIK_EKSTR_ZYON3_8_DEPTH)


solid = Compound([part.part, body_2.part, body_3.part, body_4.part, body_5.part, body_6.part, body_7.part, body_8.part, body_9.part, body_10.part, body_11.part, body_12.part, body_13.part, body_14.part, body_15.part, body_16.part, body_17.part])
